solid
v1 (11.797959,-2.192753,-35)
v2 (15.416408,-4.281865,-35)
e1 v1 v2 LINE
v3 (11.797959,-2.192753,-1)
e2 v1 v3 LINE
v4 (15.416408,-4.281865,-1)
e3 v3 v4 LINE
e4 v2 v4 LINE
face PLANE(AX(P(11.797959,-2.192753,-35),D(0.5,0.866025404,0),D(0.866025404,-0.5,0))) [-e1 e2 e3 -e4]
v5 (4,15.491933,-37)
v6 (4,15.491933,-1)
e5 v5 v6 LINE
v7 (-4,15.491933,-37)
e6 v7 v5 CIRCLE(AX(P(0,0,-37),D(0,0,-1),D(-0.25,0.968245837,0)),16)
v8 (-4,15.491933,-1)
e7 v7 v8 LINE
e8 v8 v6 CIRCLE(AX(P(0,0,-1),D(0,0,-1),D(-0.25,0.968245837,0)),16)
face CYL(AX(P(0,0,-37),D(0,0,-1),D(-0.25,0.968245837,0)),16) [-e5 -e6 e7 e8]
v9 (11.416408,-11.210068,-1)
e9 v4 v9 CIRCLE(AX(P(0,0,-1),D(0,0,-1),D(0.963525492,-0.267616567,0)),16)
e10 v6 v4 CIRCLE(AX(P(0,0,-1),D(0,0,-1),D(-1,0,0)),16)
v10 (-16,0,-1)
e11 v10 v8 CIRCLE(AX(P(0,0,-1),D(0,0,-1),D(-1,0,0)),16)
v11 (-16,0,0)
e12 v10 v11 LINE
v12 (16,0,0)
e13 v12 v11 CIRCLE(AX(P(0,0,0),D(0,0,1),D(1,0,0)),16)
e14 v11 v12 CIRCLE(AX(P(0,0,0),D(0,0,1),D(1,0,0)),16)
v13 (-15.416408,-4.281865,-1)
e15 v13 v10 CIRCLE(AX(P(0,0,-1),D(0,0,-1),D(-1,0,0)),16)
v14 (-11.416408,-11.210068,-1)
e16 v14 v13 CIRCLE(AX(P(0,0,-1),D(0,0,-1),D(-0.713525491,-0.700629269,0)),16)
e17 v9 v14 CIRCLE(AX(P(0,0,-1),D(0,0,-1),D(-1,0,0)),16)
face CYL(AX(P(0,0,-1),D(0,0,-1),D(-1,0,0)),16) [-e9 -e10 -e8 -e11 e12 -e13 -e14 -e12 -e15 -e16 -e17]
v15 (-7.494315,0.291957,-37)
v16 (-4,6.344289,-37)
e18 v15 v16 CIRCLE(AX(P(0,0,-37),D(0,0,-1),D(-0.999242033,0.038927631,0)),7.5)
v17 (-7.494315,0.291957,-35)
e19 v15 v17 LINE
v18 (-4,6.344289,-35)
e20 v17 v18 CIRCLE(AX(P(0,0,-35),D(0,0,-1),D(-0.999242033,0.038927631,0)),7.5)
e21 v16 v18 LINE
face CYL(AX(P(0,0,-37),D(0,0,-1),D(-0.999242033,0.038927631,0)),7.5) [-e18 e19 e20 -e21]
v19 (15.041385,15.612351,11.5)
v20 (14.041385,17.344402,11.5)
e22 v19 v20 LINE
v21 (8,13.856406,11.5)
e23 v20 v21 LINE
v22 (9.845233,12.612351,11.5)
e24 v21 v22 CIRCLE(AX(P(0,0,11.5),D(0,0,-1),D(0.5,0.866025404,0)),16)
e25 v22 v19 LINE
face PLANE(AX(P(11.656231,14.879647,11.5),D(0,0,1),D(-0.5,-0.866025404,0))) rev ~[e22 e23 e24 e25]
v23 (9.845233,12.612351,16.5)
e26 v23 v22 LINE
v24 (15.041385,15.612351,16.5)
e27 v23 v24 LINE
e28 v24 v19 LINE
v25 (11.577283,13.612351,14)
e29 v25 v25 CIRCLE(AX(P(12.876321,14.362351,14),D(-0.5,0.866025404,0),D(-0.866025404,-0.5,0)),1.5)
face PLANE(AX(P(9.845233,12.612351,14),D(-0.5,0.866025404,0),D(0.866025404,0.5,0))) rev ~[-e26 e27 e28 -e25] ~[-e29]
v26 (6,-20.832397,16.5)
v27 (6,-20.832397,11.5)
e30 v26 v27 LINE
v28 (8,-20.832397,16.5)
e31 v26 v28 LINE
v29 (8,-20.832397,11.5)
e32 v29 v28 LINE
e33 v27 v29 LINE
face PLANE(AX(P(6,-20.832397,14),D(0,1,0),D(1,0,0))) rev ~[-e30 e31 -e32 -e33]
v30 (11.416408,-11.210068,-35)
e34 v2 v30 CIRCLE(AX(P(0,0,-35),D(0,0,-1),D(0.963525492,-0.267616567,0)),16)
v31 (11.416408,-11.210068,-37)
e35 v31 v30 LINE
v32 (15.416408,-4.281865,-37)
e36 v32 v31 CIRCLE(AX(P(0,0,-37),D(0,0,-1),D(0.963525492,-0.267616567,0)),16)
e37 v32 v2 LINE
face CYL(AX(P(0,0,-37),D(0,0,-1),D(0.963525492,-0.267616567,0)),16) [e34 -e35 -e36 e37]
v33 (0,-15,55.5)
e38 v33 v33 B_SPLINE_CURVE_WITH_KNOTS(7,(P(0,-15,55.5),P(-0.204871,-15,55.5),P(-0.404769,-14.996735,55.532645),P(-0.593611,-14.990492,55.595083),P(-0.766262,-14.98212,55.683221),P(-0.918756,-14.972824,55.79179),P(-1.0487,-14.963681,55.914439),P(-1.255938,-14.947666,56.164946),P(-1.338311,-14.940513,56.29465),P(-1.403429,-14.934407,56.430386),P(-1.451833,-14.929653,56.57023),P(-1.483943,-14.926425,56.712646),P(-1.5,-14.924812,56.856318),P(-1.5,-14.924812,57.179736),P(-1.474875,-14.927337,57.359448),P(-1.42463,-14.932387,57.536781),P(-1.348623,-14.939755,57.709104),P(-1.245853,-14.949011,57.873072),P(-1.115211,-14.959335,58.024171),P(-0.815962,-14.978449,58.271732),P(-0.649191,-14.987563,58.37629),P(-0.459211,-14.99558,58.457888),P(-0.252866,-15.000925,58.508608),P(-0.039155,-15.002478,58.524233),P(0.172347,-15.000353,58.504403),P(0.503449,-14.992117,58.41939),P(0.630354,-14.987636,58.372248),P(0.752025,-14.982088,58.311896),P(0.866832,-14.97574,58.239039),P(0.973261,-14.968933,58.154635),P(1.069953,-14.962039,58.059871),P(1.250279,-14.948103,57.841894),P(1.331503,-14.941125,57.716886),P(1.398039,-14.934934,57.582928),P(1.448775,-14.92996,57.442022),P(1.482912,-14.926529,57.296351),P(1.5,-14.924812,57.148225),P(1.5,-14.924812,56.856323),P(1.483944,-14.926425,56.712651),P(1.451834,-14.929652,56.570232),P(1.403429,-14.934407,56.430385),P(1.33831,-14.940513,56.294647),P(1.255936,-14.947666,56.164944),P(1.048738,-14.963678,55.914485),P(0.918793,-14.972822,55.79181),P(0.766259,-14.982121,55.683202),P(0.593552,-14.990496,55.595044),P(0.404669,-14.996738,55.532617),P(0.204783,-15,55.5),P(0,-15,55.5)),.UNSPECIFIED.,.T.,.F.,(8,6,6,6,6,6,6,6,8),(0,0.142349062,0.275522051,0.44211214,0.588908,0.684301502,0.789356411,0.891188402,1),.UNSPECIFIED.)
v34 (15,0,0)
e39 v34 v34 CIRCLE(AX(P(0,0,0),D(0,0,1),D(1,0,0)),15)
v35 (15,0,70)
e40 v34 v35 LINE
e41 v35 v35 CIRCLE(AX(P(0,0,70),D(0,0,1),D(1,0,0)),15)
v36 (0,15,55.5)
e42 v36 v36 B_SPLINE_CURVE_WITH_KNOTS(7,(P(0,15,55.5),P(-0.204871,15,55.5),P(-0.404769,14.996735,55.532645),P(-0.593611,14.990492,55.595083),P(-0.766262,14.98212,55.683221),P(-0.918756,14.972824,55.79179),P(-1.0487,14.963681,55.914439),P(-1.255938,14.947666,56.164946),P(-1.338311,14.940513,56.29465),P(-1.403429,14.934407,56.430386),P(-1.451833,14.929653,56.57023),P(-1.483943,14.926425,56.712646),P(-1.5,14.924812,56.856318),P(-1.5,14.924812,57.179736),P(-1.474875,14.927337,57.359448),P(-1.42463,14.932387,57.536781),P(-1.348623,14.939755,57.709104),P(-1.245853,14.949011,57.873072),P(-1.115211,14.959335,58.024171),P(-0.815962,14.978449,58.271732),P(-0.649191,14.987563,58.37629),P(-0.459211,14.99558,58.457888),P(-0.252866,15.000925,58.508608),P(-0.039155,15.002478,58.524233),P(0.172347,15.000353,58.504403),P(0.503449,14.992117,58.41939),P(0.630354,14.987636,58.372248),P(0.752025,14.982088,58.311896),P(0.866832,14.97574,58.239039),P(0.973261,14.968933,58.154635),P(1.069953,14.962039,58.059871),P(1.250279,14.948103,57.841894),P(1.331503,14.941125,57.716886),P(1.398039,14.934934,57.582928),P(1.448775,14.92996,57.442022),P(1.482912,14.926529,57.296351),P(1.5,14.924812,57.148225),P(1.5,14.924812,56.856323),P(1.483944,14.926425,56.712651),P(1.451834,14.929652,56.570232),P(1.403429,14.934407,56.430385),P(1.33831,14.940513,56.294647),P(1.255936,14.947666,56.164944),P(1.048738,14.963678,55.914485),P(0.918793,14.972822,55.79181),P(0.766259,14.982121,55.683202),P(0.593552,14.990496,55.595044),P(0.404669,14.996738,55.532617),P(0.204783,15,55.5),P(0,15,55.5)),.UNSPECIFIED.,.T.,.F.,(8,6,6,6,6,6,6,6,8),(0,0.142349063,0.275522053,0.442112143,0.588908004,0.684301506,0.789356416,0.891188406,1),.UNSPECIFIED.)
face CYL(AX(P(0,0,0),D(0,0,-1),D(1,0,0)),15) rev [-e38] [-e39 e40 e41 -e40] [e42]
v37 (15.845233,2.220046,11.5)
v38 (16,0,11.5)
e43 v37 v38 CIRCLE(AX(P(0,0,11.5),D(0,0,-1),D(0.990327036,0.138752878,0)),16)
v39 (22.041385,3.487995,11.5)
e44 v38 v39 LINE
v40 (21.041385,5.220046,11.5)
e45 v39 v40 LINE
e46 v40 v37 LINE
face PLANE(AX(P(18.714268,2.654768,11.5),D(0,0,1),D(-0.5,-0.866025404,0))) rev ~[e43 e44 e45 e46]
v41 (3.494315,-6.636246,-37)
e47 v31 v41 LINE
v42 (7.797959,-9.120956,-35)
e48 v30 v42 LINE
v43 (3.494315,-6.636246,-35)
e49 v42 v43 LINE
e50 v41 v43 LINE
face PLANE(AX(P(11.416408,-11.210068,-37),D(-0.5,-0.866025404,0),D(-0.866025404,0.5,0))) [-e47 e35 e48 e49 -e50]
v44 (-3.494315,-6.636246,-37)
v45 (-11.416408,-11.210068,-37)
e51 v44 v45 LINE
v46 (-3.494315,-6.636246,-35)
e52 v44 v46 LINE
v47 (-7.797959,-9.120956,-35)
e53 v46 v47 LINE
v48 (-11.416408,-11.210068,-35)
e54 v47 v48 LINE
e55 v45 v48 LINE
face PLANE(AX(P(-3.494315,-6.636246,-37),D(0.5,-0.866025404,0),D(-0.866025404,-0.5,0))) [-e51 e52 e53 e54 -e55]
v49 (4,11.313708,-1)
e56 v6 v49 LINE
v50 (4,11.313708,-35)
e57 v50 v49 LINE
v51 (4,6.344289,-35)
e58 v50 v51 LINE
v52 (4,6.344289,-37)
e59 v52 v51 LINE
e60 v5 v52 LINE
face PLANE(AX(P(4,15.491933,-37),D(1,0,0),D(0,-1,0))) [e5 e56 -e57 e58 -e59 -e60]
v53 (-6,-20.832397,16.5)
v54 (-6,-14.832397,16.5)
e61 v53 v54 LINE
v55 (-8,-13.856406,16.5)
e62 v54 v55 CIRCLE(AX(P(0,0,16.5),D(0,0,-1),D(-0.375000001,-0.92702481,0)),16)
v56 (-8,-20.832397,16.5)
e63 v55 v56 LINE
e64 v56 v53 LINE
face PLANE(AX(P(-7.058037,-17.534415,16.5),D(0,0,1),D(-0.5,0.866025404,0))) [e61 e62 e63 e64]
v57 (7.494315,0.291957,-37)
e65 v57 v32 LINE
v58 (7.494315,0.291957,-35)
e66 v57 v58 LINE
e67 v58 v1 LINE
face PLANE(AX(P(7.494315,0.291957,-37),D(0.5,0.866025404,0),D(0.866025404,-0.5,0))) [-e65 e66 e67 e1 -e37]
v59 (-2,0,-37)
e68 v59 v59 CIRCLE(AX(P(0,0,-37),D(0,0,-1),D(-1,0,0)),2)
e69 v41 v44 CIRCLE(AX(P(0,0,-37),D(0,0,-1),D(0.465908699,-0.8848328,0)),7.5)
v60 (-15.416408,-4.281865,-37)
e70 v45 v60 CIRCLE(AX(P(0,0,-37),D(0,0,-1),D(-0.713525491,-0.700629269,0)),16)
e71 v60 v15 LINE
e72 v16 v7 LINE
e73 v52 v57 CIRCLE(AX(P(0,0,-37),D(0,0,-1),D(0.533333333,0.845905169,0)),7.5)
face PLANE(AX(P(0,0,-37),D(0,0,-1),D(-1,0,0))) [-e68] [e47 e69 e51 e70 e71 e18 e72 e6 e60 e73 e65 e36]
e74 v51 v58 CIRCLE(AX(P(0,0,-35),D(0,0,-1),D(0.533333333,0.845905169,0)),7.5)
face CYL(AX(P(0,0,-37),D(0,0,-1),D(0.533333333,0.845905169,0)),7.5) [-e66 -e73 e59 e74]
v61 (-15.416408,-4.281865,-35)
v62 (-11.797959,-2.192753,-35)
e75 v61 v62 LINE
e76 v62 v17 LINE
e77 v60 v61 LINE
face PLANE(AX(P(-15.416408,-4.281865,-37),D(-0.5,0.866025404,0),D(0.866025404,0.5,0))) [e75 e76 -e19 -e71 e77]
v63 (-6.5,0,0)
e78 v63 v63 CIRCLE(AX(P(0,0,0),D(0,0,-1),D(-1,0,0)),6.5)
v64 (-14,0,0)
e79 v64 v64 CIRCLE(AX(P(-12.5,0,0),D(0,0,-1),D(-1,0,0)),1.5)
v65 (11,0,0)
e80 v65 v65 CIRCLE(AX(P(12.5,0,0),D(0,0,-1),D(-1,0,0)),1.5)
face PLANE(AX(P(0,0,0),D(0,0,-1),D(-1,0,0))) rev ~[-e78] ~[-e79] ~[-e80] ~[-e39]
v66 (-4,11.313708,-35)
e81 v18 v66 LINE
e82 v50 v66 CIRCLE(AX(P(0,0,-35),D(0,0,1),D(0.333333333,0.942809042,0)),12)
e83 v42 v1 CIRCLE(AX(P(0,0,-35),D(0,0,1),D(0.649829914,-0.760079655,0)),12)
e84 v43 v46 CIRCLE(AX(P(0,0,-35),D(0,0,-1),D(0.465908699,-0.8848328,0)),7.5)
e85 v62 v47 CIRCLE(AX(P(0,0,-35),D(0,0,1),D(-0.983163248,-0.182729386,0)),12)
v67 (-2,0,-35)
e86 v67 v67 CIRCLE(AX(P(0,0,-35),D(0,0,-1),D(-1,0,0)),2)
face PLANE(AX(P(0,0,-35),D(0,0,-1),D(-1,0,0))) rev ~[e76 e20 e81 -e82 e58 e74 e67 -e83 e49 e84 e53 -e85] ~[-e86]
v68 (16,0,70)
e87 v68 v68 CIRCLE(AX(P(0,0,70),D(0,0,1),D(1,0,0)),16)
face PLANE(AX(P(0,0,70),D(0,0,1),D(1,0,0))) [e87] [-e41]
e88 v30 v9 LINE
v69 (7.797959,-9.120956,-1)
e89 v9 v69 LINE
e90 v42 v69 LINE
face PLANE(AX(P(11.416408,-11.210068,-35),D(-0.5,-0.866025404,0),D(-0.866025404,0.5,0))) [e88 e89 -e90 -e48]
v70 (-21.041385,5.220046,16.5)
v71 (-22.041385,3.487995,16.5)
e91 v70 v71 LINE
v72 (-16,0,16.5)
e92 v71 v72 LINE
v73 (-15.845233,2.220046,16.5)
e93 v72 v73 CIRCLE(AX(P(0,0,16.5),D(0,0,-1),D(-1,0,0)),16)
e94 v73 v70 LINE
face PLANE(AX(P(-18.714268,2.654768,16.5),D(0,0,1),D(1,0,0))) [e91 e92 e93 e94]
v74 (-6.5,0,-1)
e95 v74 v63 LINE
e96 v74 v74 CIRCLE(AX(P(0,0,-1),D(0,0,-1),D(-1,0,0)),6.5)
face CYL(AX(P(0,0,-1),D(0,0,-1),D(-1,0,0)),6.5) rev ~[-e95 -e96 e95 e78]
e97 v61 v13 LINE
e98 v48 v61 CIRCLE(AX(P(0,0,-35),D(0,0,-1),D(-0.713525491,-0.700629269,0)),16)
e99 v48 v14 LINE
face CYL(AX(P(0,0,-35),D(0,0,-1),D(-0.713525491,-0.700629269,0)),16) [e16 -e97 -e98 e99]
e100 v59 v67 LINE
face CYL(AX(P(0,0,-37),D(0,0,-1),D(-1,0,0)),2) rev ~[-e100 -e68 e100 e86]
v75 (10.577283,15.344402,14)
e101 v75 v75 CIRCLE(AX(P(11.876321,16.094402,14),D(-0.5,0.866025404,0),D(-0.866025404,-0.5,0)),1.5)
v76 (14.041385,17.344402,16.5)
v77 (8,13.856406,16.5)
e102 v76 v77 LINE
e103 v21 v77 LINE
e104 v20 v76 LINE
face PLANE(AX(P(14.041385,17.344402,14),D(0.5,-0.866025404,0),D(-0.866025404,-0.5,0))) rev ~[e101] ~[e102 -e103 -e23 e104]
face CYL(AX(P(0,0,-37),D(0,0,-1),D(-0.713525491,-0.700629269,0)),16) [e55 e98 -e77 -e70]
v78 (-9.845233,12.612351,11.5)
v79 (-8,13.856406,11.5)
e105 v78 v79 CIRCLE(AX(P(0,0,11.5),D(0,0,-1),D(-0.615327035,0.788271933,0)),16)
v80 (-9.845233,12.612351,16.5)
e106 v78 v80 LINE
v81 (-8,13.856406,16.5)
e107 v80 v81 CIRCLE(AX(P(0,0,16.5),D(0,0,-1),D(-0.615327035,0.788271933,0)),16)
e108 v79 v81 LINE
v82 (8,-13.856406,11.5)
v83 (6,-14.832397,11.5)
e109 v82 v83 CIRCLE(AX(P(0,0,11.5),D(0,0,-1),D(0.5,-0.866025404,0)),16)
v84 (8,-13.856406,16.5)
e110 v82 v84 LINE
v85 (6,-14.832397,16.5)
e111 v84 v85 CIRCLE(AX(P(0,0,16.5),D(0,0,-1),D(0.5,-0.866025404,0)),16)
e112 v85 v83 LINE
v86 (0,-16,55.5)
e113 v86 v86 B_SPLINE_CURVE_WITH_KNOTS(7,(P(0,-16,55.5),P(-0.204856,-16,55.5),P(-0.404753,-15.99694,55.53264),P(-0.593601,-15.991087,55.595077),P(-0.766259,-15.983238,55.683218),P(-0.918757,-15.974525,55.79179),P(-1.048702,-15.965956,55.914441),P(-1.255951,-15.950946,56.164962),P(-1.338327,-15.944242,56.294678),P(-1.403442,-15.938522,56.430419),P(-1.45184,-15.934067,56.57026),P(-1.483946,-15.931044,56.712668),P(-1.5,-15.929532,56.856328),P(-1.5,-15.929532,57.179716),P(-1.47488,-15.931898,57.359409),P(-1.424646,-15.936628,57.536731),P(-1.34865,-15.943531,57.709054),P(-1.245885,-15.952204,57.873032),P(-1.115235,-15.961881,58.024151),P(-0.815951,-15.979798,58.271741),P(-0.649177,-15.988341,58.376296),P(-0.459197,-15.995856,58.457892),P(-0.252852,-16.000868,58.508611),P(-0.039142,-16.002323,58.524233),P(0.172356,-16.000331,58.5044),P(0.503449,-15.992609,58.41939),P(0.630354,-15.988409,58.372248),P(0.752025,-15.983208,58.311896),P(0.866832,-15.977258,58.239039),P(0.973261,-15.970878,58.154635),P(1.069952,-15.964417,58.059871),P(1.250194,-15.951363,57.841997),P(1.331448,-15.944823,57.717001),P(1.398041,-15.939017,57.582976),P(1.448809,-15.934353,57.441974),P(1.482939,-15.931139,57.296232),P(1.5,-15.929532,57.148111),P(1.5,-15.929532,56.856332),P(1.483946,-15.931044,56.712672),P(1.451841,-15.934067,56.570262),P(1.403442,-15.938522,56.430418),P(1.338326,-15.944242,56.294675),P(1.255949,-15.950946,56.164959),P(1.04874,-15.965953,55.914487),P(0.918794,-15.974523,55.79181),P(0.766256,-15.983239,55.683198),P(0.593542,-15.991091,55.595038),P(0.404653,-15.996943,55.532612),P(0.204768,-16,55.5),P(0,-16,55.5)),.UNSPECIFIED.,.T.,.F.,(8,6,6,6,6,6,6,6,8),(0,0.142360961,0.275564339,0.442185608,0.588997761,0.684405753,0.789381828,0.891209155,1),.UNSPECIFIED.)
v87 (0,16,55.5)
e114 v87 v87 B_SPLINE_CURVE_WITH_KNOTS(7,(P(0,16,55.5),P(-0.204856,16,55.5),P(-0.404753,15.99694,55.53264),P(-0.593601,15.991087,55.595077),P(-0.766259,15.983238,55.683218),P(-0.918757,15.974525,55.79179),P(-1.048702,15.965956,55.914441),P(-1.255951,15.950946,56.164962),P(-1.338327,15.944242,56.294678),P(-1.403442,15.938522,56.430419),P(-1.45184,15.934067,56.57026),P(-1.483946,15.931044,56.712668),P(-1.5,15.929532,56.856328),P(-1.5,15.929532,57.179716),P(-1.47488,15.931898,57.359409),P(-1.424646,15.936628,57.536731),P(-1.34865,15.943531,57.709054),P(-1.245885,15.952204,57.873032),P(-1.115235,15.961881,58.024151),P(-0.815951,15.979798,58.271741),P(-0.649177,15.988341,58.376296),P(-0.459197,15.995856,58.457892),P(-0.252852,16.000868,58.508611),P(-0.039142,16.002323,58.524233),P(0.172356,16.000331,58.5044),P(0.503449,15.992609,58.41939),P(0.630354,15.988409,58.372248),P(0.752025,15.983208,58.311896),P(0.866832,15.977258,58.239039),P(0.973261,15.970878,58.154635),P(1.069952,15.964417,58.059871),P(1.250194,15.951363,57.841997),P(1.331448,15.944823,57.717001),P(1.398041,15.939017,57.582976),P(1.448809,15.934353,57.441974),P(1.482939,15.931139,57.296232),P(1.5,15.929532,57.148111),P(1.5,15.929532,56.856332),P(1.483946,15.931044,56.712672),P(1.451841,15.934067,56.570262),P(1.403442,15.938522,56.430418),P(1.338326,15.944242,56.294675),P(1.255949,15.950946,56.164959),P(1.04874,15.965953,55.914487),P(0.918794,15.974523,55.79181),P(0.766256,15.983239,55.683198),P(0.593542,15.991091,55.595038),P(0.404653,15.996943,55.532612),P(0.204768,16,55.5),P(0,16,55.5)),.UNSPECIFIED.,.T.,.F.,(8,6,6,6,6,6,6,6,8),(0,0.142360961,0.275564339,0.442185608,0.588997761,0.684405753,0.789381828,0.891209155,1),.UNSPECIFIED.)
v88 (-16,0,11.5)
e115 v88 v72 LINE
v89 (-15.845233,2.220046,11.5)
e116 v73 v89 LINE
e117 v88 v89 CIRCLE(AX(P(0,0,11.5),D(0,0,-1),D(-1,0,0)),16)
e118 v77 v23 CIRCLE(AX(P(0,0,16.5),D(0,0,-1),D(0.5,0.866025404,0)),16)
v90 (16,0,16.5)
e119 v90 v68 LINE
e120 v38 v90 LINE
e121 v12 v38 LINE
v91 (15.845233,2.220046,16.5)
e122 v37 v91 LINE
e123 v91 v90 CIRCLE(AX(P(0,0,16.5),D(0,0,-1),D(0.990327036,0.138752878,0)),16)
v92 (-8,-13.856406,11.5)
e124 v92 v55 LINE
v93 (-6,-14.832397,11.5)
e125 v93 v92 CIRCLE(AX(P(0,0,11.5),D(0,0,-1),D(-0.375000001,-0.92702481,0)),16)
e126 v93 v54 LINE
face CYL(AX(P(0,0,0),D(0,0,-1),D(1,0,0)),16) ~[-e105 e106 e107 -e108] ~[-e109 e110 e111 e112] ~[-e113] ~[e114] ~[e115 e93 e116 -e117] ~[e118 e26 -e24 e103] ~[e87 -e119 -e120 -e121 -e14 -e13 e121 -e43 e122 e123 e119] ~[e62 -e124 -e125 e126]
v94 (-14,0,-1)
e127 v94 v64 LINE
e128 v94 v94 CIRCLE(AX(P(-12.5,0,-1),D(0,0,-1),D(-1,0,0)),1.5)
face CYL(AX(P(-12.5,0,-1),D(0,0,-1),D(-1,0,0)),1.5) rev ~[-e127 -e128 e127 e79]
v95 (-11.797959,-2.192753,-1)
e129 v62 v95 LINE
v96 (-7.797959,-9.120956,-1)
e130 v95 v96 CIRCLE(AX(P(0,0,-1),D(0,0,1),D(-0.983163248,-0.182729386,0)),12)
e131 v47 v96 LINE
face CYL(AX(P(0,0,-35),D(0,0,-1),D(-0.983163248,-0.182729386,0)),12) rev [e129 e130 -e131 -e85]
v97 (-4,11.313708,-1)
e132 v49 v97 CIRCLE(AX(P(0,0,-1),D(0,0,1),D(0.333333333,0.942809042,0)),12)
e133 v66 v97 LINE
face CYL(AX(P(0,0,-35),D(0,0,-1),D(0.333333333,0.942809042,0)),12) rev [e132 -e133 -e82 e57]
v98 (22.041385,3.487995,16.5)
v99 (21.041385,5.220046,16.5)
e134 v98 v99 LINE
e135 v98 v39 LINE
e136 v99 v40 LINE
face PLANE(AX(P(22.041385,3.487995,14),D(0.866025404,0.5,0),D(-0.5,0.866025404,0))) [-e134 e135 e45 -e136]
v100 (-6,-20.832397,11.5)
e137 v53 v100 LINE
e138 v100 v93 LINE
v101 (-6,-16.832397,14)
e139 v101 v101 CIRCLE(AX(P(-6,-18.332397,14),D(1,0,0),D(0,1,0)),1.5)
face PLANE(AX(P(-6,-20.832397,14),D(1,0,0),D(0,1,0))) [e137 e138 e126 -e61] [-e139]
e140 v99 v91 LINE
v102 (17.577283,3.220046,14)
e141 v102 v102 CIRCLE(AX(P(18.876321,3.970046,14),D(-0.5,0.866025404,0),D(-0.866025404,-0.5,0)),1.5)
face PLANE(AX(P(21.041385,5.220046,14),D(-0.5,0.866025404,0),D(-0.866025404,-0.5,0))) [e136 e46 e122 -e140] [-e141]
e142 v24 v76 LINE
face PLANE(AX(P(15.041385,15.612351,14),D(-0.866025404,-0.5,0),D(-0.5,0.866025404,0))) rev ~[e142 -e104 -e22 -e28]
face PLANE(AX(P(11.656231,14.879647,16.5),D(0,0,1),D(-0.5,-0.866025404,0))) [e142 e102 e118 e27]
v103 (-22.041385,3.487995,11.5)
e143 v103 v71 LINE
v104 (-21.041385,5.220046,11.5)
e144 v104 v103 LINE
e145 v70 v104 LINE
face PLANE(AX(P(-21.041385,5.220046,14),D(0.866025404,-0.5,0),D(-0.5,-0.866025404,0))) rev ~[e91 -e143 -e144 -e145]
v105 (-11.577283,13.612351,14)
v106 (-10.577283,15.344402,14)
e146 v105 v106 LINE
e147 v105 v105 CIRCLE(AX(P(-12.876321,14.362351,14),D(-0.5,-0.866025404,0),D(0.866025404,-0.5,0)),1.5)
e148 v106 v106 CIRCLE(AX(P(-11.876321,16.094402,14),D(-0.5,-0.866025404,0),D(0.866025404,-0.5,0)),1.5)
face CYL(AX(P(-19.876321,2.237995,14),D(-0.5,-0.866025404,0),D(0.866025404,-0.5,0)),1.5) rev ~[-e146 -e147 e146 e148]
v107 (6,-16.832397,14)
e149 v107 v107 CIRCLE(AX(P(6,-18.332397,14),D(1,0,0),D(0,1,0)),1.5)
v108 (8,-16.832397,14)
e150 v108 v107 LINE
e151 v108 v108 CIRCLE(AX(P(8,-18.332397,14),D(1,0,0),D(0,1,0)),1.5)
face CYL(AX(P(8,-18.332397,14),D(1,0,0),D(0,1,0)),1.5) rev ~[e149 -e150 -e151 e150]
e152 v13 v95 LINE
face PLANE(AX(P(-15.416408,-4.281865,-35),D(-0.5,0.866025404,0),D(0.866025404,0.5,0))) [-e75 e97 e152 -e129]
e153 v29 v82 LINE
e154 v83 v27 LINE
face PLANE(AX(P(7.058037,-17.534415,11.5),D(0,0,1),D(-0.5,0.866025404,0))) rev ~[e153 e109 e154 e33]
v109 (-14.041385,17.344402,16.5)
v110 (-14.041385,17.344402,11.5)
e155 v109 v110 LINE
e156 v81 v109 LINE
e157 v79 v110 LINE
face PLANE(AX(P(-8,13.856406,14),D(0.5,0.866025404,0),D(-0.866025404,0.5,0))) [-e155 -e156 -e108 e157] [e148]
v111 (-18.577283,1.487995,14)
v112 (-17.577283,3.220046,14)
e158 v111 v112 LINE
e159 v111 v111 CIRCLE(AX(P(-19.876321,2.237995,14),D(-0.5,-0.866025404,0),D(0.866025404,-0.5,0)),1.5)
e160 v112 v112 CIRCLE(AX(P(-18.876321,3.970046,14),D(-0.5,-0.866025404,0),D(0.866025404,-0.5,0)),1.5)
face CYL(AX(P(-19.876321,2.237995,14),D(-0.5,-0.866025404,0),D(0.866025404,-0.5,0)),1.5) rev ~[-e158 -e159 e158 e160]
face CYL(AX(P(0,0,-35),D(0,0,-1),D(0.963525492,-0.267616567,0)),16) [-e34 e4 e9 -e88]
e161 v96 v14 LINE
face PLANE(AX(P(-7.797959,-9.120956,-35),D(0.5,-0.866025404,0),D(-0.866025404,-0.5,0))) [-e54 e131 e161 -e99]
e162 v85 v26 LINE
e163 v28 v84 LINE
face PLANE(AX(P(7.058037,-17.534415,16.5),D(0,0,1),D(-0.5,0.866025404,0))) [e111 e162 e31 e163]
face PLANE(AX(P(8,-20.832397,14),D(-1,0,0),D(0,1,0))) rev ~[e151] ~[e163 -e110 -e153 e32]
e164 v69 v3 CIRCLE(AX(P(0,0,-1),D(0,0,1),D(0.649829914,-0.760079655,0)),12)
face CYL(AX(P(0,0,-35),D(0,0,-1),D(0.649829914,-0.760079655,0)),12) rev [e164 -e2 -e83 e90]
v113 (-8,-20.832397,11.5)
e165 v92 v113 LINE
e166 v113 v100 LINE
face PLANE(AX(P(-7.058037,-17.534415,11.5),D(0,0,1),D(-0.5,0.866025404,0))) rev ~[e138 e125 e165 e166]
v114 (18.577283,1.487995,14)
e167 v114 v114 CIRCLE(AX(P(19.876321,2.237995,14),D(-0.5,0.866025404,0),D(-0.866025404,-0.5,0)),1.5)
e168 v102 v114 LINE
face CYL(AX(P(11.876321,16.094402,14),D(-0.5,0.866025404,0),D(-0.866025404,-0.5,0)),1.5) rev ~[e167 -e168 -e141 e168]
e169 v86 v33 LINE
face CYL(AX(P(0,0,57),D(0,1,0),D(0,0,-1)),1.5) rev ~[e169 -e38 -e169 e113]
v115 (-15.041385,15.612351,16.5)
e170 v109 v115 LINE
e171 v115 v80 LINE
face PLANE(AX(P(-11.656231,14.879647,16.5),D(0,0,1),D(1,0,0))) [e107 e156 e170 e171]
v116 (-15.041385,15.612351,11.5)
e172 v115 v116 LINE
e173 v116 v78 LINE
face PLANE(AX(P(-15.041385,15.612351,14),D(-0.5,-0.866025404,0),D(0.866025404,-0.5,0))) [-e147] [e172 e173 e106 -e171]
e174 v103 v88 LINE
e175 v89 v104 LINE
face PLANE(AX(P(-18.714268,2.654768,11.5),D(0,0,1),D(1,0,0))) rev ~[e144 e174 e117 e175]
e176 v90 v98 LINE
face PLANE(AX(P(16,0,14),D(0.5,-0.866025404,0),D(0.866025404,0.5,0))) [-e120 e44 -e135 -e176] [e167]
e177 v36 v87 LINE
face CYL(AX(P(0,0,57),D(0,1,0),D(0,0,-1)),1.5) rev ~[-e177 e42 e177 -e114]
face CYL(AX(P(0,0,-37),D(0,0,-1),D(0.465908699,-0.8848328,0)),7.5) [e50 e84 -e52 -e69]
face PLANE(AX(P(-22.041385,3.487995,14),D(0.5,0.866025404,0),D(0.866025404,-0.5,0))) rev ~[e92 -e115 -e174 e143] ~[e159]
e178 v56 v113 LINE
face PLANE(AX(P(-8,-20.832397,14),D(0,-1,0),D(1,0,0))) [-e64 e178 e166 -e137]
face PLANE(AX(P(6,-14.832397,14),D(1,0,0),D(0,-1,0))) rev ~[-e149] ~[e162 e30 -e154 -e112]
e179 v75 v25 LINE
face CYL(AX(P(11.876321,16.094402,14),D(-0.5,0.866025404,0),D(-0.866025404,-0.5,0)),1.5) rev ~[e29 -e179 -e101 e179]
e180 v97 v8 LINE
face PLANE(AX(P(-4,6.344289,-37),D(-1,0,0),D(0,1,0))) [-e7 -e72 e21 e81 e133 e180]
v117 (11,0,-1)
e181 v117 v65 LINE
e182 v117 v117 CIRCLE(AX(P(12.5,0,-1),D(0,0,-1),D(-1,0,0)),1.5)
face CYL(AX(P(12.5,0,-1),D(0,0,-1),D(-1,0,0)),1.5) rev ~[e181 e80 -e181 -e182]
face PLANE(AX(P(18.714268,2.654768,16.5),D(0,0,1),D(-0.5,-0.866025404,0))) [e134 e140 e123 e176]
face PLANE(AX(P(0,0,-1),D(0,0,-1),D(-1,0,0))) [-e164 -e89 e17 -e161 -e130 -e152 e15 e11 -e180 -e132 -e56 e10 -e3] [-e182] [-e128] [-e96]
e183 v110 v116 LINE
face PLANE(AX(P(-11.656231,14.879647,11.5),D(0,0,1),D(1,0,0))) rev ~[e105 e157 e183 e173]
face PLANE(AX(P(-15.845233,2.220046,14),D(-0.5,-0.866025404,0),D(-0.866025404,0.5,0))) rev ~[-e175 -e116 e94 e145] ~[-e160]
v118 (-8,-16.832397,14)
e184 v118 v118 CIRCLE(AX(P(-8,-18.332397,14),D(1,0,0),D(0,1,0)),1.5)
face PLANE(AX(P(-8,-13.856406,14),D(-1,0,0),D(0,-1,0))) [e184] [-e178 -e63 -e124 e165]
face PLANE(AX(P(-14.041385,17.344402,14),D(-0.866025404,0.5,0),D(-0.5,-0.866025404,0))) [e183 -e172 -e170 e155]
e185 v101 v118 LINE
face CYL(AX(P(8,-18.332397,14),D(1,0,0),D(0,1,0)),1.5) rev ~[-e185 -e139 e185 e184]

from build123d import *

# Parameters (mm, degrees)
SKETCH1_R           = 16
SKETCH1_R_2         = 15
BOSS_EXTRUDE1_DEPTH = 70
BOSS_EXTRUDE2_START = 1
SKETCH3_R           = 16
BOSS_EXTRUDE2_DEPTH = 1
CUT_EXTRUDE2_REACH  = 76.518
SKETCH4_R           = 6.5
BOSS_EXTRUDE3_START = 34
BOSS_EXTRUDE3_DEPTH = 34
BOSS_EXTRUDE4_START = 2
SKETCH6_R           = 2
BOSS_EXTRUDE4_DEPTH = 2
BOSS_EXTRUDE5_DEPTH = 2.5
SKETCH8_R           = 1.5
CUT_EXTRUDE3_DEPTH  = 77.740858419
CIRPATTERN1_COUNT   = 3
SKETCH9_R           = 1.5
CUT_EXTRUDE4_DEPTH  = 78.206291301
SKETCH10_W          = 1.5
SKETCH10_H          = 40


with BuildPart() as part:
    # Sketch1 → Boss-Extrude1 (new body)
    with BuildSketch(Plane.XY):
        Circle(SKETCH1_R)
        Circle(SKETCH1_R_2, mode=Mode.SUBTRACT)
    extrude(amount=BOSS_EXTRUDE1_DEPTH)

    # Sketch3 → Boss-Extrude2 (add)
    with BuildSketch(Plane(origin=(0, 0, 0), x_dir=(-1, 0, 0), z_dir=(0, 0, -1)).offset(BOSS_EXTRUDE2_START)):
        Circle(SKETCH3_R)
    extrude(amount=-BOSS_EXTRUDE2_DEPTH)

    # Sketch4 → Cut-Extrude2 (cut, up to next)
    with BuildSketch(Plane(origin=(0, 0, -1), x_dir=(-1, 0, 0), z_dir=(0, 0, -1)), mode=Mode.PRIVATE) as cut_extrude2_sk1:
        Circle(SKETCH4_R)
    cut_extrude2_tool1 = extrude(cut_extrude2_sk1.sketch, amount=-CUT_EXTRUDE2_REACH, mode=Mode.PRIVATE) & part.part
    add(cut_extrude2_tool1.solids().sort_by_distance((0, 0, -1))[0], mode=Mode.SUBTRACT)

    # Sketch5 → Boss-Extrude3 (add)
    with BuildSketch(Plane(origin=(0, 0, -1), x_dir=(-1, 0, 0), z_dir=(0, 0, -1)).offset(BOSS_EXTRUDE3_START)):
        with BuildLine():
            Line((-4, 15.491933385), (-4, 11.313708499))
            ThreePointArc((-4, 11.313708499), (0, 12), (4, 11.313708499))
            Line((4, 11.313708499), (4, 15.491933385))
            ThreePointArc((4, 15.491933385), (0, 16), (-4, 15.491933385))
        make_face()
        with BuildLine():
            Line((15.416407865, -4.281865077), (11.797958971, -2.192752634))
            ThreePointArc((11.797958971, -2.192752634), (10.392304845, -6), (7.797958971, -9.120955865))
            Line((7.797958971, -9.120955865), (11.416407865, -11.210068308))
            ThreePointArc((11.416407865, -11.210068308), (13.856406461, -8), (15.416407865, -4.281865077))
        make_face()
        with BuildLine():
            Line((-11.416407865, -11.210068308), (-7.797958971, -9.120955865))
            ThreePointArc((-7.797958971, -9.120955865), (-10.392304845, -6), (-11.797958971, -2.192752634))
            Line((-11.797958971, -2.192752634), (-15.416407865, -4.281865077))
            ThreePointArc((-15.416407865, -4.281865077), (-13.856406461, -8), (-11.416407865, -11.210068308))
        make_face()
    extrude(amount=-BOSS_EXTRUDE3_DEPTH)

    # Sketch6 → Boss-Extrude4 (add)
    with BuildSketch(Plane(origin=(0, 0, -35), x_dir=(-1, 0, 0), z_dir=(0, 0, -1)).offset(BOSS_EXTRUDE4_START)):
        with BuildLine():
            Line((-4, 15.491933385), (-4, 6.34428877))
            ThreePointArc((-4, 6.34428877), (-6.495190528, 3.75), (-7.494315244, 0.29195723))
            Line((-7.494315244, 0.29195723), (-15.416407865, -4.281865077))
            ThreePointArc((-15.416407865, -4.281865077), (-13.856406461, -8), (-11.416407865, -11.210068308))
            Line((-11.416407865, -11.210068308), (-3.494315244, -6.636246))
            ThreePointArc((-3.494315244, -6.636246), (0, -7.5), (3.494315244, -6.636246))
            Line((3.494315244, -6.636246), (11.416407865, -11.210068308))
            ThreePointArc((11.416407865, -11.210068308), (13.856406461, -8), (15.416407865, -4.281865077))
            Line((15.416407865, -4.281865077), (7.494315244, 0.29195723))
            ThreePointArc((7.494315244, 0.29195723), (6.495190528, 3.75), (4, 6.34428877))
            Line((4, 6.34428877), (4, 15.491933385))
            ThreePointArc((4, 15.491933385), (0, 16), (-4, 15.491933385))
        make_face()
        Circle(SKETCH6_R, mode=Mode.SUBTRACT)
    extrude(amount=-BOSS_EXTRUDE4_DEPTH)

    # Sketch7 → Boss-Extrude5 (add, symmetric)
    with BuildSketch(Plane(origin=(0, 0, 14), x_dir=(-1, 0, 0), z_dir=(0, 0, -1))):
        with BuildLine():
            Line((15.041385001, 15.61235091), (9.845232579, 12.61235091))
            ThreePointArc((9.845232579, 12.61235091), (8.94427191, 13.266499161), (8, 13.856406461))
            Line((8, 13.856406461), (14.041385001, 17.344401717))
            Line((14.041385001, 17.344401717), (15.041385001, 15.61235091))
        make_face()
        with BuildLine():
            Line((21.041385001, 5.220046064), (22.041385001, 3.487995257))
            Line((22.041385001, 3.487995257), (16, 0))
            ThreePointArc((16, 0), (15.961261248, 1.112717112), (15.845232579, 2.220046064))
            Line((15.845232579, 2.220046064), (21.041385001, 5.220046064))
        make_face()
    boss_extrude5 = extrude(amount=BOSS_EXTRUDE5_DEPTH, both=True)

    # Sketch8 → Cut-Extrude3 (cut, through all)
    with BuildSketch(Plane(origin=(-4, -6.92820323, 0), x_dir=(0.8660254037844398, -0.49999999999999806, 0), z_dir=(-0.499999999999998, -0.8660254037844397, 0))):
        with Locations((-18.332396974, 14)):
            Circle(SKETCH8_R)
    cut_extrude3 = extrude(amount=-CUT_EXTRUDE3_DEPTH, mode=Mode.SUBTRACT)

    # CirPattern1: Boss-Extrude5, Cut-Extrude3 ×3 about axis
    cirpattern1_axis = Axis((0, 0, 0), (0, 0, 1))
    add([boss_extrude5.rotate(cirpattern1_axis, i * 360 / CIRPATTERN1_COUNT) for i in range(1, CIRPATTERN1_COUNT)])
    add([cut_extrude3.rotate(cirpattern1_axis, i * 360 / CIRPATTERN1_COUNT) for i in range(1, CIRPATTERN1_COUNT)], mode=Mode.SUBTRACT)

    # Sketch9 → Cut-Extrude4 (cut, through all)
    with BuildSketch(Plane(origin=(0, 0, -1), x_dir=(-1, 0, 0), z_dir=(0, 0, -1))):
        with Locations((-12.5, 0)):
            Circle(SKETCH9_R)
        with Locations((12.5, 0)):
            Circle(SKETCH9_R)
    extrude(amount=-CUT_EXTRUDE4_DEPTH, mode=Mode.SUBTRACT)

    # Sketch10 → Cut-Revolve1 (revolve, cut)
    with BuildSketch(Plane.XY.offset(57), mode=Mode.PRIVATE) as cut_revolve1_sk:
        with Locations((0.75, 0)):
            Rectangle(SKETCH10_W, SKETCH10_H)
    revolve(cut_revolve1_sk.sketch.rotate(Axis((0, 0, 57), (0, 1, 0)), 90), axis=Axis((0, 0, 57), (0, 1, 0)), mode=Mode.SUBTRACT)


solid = part.part
